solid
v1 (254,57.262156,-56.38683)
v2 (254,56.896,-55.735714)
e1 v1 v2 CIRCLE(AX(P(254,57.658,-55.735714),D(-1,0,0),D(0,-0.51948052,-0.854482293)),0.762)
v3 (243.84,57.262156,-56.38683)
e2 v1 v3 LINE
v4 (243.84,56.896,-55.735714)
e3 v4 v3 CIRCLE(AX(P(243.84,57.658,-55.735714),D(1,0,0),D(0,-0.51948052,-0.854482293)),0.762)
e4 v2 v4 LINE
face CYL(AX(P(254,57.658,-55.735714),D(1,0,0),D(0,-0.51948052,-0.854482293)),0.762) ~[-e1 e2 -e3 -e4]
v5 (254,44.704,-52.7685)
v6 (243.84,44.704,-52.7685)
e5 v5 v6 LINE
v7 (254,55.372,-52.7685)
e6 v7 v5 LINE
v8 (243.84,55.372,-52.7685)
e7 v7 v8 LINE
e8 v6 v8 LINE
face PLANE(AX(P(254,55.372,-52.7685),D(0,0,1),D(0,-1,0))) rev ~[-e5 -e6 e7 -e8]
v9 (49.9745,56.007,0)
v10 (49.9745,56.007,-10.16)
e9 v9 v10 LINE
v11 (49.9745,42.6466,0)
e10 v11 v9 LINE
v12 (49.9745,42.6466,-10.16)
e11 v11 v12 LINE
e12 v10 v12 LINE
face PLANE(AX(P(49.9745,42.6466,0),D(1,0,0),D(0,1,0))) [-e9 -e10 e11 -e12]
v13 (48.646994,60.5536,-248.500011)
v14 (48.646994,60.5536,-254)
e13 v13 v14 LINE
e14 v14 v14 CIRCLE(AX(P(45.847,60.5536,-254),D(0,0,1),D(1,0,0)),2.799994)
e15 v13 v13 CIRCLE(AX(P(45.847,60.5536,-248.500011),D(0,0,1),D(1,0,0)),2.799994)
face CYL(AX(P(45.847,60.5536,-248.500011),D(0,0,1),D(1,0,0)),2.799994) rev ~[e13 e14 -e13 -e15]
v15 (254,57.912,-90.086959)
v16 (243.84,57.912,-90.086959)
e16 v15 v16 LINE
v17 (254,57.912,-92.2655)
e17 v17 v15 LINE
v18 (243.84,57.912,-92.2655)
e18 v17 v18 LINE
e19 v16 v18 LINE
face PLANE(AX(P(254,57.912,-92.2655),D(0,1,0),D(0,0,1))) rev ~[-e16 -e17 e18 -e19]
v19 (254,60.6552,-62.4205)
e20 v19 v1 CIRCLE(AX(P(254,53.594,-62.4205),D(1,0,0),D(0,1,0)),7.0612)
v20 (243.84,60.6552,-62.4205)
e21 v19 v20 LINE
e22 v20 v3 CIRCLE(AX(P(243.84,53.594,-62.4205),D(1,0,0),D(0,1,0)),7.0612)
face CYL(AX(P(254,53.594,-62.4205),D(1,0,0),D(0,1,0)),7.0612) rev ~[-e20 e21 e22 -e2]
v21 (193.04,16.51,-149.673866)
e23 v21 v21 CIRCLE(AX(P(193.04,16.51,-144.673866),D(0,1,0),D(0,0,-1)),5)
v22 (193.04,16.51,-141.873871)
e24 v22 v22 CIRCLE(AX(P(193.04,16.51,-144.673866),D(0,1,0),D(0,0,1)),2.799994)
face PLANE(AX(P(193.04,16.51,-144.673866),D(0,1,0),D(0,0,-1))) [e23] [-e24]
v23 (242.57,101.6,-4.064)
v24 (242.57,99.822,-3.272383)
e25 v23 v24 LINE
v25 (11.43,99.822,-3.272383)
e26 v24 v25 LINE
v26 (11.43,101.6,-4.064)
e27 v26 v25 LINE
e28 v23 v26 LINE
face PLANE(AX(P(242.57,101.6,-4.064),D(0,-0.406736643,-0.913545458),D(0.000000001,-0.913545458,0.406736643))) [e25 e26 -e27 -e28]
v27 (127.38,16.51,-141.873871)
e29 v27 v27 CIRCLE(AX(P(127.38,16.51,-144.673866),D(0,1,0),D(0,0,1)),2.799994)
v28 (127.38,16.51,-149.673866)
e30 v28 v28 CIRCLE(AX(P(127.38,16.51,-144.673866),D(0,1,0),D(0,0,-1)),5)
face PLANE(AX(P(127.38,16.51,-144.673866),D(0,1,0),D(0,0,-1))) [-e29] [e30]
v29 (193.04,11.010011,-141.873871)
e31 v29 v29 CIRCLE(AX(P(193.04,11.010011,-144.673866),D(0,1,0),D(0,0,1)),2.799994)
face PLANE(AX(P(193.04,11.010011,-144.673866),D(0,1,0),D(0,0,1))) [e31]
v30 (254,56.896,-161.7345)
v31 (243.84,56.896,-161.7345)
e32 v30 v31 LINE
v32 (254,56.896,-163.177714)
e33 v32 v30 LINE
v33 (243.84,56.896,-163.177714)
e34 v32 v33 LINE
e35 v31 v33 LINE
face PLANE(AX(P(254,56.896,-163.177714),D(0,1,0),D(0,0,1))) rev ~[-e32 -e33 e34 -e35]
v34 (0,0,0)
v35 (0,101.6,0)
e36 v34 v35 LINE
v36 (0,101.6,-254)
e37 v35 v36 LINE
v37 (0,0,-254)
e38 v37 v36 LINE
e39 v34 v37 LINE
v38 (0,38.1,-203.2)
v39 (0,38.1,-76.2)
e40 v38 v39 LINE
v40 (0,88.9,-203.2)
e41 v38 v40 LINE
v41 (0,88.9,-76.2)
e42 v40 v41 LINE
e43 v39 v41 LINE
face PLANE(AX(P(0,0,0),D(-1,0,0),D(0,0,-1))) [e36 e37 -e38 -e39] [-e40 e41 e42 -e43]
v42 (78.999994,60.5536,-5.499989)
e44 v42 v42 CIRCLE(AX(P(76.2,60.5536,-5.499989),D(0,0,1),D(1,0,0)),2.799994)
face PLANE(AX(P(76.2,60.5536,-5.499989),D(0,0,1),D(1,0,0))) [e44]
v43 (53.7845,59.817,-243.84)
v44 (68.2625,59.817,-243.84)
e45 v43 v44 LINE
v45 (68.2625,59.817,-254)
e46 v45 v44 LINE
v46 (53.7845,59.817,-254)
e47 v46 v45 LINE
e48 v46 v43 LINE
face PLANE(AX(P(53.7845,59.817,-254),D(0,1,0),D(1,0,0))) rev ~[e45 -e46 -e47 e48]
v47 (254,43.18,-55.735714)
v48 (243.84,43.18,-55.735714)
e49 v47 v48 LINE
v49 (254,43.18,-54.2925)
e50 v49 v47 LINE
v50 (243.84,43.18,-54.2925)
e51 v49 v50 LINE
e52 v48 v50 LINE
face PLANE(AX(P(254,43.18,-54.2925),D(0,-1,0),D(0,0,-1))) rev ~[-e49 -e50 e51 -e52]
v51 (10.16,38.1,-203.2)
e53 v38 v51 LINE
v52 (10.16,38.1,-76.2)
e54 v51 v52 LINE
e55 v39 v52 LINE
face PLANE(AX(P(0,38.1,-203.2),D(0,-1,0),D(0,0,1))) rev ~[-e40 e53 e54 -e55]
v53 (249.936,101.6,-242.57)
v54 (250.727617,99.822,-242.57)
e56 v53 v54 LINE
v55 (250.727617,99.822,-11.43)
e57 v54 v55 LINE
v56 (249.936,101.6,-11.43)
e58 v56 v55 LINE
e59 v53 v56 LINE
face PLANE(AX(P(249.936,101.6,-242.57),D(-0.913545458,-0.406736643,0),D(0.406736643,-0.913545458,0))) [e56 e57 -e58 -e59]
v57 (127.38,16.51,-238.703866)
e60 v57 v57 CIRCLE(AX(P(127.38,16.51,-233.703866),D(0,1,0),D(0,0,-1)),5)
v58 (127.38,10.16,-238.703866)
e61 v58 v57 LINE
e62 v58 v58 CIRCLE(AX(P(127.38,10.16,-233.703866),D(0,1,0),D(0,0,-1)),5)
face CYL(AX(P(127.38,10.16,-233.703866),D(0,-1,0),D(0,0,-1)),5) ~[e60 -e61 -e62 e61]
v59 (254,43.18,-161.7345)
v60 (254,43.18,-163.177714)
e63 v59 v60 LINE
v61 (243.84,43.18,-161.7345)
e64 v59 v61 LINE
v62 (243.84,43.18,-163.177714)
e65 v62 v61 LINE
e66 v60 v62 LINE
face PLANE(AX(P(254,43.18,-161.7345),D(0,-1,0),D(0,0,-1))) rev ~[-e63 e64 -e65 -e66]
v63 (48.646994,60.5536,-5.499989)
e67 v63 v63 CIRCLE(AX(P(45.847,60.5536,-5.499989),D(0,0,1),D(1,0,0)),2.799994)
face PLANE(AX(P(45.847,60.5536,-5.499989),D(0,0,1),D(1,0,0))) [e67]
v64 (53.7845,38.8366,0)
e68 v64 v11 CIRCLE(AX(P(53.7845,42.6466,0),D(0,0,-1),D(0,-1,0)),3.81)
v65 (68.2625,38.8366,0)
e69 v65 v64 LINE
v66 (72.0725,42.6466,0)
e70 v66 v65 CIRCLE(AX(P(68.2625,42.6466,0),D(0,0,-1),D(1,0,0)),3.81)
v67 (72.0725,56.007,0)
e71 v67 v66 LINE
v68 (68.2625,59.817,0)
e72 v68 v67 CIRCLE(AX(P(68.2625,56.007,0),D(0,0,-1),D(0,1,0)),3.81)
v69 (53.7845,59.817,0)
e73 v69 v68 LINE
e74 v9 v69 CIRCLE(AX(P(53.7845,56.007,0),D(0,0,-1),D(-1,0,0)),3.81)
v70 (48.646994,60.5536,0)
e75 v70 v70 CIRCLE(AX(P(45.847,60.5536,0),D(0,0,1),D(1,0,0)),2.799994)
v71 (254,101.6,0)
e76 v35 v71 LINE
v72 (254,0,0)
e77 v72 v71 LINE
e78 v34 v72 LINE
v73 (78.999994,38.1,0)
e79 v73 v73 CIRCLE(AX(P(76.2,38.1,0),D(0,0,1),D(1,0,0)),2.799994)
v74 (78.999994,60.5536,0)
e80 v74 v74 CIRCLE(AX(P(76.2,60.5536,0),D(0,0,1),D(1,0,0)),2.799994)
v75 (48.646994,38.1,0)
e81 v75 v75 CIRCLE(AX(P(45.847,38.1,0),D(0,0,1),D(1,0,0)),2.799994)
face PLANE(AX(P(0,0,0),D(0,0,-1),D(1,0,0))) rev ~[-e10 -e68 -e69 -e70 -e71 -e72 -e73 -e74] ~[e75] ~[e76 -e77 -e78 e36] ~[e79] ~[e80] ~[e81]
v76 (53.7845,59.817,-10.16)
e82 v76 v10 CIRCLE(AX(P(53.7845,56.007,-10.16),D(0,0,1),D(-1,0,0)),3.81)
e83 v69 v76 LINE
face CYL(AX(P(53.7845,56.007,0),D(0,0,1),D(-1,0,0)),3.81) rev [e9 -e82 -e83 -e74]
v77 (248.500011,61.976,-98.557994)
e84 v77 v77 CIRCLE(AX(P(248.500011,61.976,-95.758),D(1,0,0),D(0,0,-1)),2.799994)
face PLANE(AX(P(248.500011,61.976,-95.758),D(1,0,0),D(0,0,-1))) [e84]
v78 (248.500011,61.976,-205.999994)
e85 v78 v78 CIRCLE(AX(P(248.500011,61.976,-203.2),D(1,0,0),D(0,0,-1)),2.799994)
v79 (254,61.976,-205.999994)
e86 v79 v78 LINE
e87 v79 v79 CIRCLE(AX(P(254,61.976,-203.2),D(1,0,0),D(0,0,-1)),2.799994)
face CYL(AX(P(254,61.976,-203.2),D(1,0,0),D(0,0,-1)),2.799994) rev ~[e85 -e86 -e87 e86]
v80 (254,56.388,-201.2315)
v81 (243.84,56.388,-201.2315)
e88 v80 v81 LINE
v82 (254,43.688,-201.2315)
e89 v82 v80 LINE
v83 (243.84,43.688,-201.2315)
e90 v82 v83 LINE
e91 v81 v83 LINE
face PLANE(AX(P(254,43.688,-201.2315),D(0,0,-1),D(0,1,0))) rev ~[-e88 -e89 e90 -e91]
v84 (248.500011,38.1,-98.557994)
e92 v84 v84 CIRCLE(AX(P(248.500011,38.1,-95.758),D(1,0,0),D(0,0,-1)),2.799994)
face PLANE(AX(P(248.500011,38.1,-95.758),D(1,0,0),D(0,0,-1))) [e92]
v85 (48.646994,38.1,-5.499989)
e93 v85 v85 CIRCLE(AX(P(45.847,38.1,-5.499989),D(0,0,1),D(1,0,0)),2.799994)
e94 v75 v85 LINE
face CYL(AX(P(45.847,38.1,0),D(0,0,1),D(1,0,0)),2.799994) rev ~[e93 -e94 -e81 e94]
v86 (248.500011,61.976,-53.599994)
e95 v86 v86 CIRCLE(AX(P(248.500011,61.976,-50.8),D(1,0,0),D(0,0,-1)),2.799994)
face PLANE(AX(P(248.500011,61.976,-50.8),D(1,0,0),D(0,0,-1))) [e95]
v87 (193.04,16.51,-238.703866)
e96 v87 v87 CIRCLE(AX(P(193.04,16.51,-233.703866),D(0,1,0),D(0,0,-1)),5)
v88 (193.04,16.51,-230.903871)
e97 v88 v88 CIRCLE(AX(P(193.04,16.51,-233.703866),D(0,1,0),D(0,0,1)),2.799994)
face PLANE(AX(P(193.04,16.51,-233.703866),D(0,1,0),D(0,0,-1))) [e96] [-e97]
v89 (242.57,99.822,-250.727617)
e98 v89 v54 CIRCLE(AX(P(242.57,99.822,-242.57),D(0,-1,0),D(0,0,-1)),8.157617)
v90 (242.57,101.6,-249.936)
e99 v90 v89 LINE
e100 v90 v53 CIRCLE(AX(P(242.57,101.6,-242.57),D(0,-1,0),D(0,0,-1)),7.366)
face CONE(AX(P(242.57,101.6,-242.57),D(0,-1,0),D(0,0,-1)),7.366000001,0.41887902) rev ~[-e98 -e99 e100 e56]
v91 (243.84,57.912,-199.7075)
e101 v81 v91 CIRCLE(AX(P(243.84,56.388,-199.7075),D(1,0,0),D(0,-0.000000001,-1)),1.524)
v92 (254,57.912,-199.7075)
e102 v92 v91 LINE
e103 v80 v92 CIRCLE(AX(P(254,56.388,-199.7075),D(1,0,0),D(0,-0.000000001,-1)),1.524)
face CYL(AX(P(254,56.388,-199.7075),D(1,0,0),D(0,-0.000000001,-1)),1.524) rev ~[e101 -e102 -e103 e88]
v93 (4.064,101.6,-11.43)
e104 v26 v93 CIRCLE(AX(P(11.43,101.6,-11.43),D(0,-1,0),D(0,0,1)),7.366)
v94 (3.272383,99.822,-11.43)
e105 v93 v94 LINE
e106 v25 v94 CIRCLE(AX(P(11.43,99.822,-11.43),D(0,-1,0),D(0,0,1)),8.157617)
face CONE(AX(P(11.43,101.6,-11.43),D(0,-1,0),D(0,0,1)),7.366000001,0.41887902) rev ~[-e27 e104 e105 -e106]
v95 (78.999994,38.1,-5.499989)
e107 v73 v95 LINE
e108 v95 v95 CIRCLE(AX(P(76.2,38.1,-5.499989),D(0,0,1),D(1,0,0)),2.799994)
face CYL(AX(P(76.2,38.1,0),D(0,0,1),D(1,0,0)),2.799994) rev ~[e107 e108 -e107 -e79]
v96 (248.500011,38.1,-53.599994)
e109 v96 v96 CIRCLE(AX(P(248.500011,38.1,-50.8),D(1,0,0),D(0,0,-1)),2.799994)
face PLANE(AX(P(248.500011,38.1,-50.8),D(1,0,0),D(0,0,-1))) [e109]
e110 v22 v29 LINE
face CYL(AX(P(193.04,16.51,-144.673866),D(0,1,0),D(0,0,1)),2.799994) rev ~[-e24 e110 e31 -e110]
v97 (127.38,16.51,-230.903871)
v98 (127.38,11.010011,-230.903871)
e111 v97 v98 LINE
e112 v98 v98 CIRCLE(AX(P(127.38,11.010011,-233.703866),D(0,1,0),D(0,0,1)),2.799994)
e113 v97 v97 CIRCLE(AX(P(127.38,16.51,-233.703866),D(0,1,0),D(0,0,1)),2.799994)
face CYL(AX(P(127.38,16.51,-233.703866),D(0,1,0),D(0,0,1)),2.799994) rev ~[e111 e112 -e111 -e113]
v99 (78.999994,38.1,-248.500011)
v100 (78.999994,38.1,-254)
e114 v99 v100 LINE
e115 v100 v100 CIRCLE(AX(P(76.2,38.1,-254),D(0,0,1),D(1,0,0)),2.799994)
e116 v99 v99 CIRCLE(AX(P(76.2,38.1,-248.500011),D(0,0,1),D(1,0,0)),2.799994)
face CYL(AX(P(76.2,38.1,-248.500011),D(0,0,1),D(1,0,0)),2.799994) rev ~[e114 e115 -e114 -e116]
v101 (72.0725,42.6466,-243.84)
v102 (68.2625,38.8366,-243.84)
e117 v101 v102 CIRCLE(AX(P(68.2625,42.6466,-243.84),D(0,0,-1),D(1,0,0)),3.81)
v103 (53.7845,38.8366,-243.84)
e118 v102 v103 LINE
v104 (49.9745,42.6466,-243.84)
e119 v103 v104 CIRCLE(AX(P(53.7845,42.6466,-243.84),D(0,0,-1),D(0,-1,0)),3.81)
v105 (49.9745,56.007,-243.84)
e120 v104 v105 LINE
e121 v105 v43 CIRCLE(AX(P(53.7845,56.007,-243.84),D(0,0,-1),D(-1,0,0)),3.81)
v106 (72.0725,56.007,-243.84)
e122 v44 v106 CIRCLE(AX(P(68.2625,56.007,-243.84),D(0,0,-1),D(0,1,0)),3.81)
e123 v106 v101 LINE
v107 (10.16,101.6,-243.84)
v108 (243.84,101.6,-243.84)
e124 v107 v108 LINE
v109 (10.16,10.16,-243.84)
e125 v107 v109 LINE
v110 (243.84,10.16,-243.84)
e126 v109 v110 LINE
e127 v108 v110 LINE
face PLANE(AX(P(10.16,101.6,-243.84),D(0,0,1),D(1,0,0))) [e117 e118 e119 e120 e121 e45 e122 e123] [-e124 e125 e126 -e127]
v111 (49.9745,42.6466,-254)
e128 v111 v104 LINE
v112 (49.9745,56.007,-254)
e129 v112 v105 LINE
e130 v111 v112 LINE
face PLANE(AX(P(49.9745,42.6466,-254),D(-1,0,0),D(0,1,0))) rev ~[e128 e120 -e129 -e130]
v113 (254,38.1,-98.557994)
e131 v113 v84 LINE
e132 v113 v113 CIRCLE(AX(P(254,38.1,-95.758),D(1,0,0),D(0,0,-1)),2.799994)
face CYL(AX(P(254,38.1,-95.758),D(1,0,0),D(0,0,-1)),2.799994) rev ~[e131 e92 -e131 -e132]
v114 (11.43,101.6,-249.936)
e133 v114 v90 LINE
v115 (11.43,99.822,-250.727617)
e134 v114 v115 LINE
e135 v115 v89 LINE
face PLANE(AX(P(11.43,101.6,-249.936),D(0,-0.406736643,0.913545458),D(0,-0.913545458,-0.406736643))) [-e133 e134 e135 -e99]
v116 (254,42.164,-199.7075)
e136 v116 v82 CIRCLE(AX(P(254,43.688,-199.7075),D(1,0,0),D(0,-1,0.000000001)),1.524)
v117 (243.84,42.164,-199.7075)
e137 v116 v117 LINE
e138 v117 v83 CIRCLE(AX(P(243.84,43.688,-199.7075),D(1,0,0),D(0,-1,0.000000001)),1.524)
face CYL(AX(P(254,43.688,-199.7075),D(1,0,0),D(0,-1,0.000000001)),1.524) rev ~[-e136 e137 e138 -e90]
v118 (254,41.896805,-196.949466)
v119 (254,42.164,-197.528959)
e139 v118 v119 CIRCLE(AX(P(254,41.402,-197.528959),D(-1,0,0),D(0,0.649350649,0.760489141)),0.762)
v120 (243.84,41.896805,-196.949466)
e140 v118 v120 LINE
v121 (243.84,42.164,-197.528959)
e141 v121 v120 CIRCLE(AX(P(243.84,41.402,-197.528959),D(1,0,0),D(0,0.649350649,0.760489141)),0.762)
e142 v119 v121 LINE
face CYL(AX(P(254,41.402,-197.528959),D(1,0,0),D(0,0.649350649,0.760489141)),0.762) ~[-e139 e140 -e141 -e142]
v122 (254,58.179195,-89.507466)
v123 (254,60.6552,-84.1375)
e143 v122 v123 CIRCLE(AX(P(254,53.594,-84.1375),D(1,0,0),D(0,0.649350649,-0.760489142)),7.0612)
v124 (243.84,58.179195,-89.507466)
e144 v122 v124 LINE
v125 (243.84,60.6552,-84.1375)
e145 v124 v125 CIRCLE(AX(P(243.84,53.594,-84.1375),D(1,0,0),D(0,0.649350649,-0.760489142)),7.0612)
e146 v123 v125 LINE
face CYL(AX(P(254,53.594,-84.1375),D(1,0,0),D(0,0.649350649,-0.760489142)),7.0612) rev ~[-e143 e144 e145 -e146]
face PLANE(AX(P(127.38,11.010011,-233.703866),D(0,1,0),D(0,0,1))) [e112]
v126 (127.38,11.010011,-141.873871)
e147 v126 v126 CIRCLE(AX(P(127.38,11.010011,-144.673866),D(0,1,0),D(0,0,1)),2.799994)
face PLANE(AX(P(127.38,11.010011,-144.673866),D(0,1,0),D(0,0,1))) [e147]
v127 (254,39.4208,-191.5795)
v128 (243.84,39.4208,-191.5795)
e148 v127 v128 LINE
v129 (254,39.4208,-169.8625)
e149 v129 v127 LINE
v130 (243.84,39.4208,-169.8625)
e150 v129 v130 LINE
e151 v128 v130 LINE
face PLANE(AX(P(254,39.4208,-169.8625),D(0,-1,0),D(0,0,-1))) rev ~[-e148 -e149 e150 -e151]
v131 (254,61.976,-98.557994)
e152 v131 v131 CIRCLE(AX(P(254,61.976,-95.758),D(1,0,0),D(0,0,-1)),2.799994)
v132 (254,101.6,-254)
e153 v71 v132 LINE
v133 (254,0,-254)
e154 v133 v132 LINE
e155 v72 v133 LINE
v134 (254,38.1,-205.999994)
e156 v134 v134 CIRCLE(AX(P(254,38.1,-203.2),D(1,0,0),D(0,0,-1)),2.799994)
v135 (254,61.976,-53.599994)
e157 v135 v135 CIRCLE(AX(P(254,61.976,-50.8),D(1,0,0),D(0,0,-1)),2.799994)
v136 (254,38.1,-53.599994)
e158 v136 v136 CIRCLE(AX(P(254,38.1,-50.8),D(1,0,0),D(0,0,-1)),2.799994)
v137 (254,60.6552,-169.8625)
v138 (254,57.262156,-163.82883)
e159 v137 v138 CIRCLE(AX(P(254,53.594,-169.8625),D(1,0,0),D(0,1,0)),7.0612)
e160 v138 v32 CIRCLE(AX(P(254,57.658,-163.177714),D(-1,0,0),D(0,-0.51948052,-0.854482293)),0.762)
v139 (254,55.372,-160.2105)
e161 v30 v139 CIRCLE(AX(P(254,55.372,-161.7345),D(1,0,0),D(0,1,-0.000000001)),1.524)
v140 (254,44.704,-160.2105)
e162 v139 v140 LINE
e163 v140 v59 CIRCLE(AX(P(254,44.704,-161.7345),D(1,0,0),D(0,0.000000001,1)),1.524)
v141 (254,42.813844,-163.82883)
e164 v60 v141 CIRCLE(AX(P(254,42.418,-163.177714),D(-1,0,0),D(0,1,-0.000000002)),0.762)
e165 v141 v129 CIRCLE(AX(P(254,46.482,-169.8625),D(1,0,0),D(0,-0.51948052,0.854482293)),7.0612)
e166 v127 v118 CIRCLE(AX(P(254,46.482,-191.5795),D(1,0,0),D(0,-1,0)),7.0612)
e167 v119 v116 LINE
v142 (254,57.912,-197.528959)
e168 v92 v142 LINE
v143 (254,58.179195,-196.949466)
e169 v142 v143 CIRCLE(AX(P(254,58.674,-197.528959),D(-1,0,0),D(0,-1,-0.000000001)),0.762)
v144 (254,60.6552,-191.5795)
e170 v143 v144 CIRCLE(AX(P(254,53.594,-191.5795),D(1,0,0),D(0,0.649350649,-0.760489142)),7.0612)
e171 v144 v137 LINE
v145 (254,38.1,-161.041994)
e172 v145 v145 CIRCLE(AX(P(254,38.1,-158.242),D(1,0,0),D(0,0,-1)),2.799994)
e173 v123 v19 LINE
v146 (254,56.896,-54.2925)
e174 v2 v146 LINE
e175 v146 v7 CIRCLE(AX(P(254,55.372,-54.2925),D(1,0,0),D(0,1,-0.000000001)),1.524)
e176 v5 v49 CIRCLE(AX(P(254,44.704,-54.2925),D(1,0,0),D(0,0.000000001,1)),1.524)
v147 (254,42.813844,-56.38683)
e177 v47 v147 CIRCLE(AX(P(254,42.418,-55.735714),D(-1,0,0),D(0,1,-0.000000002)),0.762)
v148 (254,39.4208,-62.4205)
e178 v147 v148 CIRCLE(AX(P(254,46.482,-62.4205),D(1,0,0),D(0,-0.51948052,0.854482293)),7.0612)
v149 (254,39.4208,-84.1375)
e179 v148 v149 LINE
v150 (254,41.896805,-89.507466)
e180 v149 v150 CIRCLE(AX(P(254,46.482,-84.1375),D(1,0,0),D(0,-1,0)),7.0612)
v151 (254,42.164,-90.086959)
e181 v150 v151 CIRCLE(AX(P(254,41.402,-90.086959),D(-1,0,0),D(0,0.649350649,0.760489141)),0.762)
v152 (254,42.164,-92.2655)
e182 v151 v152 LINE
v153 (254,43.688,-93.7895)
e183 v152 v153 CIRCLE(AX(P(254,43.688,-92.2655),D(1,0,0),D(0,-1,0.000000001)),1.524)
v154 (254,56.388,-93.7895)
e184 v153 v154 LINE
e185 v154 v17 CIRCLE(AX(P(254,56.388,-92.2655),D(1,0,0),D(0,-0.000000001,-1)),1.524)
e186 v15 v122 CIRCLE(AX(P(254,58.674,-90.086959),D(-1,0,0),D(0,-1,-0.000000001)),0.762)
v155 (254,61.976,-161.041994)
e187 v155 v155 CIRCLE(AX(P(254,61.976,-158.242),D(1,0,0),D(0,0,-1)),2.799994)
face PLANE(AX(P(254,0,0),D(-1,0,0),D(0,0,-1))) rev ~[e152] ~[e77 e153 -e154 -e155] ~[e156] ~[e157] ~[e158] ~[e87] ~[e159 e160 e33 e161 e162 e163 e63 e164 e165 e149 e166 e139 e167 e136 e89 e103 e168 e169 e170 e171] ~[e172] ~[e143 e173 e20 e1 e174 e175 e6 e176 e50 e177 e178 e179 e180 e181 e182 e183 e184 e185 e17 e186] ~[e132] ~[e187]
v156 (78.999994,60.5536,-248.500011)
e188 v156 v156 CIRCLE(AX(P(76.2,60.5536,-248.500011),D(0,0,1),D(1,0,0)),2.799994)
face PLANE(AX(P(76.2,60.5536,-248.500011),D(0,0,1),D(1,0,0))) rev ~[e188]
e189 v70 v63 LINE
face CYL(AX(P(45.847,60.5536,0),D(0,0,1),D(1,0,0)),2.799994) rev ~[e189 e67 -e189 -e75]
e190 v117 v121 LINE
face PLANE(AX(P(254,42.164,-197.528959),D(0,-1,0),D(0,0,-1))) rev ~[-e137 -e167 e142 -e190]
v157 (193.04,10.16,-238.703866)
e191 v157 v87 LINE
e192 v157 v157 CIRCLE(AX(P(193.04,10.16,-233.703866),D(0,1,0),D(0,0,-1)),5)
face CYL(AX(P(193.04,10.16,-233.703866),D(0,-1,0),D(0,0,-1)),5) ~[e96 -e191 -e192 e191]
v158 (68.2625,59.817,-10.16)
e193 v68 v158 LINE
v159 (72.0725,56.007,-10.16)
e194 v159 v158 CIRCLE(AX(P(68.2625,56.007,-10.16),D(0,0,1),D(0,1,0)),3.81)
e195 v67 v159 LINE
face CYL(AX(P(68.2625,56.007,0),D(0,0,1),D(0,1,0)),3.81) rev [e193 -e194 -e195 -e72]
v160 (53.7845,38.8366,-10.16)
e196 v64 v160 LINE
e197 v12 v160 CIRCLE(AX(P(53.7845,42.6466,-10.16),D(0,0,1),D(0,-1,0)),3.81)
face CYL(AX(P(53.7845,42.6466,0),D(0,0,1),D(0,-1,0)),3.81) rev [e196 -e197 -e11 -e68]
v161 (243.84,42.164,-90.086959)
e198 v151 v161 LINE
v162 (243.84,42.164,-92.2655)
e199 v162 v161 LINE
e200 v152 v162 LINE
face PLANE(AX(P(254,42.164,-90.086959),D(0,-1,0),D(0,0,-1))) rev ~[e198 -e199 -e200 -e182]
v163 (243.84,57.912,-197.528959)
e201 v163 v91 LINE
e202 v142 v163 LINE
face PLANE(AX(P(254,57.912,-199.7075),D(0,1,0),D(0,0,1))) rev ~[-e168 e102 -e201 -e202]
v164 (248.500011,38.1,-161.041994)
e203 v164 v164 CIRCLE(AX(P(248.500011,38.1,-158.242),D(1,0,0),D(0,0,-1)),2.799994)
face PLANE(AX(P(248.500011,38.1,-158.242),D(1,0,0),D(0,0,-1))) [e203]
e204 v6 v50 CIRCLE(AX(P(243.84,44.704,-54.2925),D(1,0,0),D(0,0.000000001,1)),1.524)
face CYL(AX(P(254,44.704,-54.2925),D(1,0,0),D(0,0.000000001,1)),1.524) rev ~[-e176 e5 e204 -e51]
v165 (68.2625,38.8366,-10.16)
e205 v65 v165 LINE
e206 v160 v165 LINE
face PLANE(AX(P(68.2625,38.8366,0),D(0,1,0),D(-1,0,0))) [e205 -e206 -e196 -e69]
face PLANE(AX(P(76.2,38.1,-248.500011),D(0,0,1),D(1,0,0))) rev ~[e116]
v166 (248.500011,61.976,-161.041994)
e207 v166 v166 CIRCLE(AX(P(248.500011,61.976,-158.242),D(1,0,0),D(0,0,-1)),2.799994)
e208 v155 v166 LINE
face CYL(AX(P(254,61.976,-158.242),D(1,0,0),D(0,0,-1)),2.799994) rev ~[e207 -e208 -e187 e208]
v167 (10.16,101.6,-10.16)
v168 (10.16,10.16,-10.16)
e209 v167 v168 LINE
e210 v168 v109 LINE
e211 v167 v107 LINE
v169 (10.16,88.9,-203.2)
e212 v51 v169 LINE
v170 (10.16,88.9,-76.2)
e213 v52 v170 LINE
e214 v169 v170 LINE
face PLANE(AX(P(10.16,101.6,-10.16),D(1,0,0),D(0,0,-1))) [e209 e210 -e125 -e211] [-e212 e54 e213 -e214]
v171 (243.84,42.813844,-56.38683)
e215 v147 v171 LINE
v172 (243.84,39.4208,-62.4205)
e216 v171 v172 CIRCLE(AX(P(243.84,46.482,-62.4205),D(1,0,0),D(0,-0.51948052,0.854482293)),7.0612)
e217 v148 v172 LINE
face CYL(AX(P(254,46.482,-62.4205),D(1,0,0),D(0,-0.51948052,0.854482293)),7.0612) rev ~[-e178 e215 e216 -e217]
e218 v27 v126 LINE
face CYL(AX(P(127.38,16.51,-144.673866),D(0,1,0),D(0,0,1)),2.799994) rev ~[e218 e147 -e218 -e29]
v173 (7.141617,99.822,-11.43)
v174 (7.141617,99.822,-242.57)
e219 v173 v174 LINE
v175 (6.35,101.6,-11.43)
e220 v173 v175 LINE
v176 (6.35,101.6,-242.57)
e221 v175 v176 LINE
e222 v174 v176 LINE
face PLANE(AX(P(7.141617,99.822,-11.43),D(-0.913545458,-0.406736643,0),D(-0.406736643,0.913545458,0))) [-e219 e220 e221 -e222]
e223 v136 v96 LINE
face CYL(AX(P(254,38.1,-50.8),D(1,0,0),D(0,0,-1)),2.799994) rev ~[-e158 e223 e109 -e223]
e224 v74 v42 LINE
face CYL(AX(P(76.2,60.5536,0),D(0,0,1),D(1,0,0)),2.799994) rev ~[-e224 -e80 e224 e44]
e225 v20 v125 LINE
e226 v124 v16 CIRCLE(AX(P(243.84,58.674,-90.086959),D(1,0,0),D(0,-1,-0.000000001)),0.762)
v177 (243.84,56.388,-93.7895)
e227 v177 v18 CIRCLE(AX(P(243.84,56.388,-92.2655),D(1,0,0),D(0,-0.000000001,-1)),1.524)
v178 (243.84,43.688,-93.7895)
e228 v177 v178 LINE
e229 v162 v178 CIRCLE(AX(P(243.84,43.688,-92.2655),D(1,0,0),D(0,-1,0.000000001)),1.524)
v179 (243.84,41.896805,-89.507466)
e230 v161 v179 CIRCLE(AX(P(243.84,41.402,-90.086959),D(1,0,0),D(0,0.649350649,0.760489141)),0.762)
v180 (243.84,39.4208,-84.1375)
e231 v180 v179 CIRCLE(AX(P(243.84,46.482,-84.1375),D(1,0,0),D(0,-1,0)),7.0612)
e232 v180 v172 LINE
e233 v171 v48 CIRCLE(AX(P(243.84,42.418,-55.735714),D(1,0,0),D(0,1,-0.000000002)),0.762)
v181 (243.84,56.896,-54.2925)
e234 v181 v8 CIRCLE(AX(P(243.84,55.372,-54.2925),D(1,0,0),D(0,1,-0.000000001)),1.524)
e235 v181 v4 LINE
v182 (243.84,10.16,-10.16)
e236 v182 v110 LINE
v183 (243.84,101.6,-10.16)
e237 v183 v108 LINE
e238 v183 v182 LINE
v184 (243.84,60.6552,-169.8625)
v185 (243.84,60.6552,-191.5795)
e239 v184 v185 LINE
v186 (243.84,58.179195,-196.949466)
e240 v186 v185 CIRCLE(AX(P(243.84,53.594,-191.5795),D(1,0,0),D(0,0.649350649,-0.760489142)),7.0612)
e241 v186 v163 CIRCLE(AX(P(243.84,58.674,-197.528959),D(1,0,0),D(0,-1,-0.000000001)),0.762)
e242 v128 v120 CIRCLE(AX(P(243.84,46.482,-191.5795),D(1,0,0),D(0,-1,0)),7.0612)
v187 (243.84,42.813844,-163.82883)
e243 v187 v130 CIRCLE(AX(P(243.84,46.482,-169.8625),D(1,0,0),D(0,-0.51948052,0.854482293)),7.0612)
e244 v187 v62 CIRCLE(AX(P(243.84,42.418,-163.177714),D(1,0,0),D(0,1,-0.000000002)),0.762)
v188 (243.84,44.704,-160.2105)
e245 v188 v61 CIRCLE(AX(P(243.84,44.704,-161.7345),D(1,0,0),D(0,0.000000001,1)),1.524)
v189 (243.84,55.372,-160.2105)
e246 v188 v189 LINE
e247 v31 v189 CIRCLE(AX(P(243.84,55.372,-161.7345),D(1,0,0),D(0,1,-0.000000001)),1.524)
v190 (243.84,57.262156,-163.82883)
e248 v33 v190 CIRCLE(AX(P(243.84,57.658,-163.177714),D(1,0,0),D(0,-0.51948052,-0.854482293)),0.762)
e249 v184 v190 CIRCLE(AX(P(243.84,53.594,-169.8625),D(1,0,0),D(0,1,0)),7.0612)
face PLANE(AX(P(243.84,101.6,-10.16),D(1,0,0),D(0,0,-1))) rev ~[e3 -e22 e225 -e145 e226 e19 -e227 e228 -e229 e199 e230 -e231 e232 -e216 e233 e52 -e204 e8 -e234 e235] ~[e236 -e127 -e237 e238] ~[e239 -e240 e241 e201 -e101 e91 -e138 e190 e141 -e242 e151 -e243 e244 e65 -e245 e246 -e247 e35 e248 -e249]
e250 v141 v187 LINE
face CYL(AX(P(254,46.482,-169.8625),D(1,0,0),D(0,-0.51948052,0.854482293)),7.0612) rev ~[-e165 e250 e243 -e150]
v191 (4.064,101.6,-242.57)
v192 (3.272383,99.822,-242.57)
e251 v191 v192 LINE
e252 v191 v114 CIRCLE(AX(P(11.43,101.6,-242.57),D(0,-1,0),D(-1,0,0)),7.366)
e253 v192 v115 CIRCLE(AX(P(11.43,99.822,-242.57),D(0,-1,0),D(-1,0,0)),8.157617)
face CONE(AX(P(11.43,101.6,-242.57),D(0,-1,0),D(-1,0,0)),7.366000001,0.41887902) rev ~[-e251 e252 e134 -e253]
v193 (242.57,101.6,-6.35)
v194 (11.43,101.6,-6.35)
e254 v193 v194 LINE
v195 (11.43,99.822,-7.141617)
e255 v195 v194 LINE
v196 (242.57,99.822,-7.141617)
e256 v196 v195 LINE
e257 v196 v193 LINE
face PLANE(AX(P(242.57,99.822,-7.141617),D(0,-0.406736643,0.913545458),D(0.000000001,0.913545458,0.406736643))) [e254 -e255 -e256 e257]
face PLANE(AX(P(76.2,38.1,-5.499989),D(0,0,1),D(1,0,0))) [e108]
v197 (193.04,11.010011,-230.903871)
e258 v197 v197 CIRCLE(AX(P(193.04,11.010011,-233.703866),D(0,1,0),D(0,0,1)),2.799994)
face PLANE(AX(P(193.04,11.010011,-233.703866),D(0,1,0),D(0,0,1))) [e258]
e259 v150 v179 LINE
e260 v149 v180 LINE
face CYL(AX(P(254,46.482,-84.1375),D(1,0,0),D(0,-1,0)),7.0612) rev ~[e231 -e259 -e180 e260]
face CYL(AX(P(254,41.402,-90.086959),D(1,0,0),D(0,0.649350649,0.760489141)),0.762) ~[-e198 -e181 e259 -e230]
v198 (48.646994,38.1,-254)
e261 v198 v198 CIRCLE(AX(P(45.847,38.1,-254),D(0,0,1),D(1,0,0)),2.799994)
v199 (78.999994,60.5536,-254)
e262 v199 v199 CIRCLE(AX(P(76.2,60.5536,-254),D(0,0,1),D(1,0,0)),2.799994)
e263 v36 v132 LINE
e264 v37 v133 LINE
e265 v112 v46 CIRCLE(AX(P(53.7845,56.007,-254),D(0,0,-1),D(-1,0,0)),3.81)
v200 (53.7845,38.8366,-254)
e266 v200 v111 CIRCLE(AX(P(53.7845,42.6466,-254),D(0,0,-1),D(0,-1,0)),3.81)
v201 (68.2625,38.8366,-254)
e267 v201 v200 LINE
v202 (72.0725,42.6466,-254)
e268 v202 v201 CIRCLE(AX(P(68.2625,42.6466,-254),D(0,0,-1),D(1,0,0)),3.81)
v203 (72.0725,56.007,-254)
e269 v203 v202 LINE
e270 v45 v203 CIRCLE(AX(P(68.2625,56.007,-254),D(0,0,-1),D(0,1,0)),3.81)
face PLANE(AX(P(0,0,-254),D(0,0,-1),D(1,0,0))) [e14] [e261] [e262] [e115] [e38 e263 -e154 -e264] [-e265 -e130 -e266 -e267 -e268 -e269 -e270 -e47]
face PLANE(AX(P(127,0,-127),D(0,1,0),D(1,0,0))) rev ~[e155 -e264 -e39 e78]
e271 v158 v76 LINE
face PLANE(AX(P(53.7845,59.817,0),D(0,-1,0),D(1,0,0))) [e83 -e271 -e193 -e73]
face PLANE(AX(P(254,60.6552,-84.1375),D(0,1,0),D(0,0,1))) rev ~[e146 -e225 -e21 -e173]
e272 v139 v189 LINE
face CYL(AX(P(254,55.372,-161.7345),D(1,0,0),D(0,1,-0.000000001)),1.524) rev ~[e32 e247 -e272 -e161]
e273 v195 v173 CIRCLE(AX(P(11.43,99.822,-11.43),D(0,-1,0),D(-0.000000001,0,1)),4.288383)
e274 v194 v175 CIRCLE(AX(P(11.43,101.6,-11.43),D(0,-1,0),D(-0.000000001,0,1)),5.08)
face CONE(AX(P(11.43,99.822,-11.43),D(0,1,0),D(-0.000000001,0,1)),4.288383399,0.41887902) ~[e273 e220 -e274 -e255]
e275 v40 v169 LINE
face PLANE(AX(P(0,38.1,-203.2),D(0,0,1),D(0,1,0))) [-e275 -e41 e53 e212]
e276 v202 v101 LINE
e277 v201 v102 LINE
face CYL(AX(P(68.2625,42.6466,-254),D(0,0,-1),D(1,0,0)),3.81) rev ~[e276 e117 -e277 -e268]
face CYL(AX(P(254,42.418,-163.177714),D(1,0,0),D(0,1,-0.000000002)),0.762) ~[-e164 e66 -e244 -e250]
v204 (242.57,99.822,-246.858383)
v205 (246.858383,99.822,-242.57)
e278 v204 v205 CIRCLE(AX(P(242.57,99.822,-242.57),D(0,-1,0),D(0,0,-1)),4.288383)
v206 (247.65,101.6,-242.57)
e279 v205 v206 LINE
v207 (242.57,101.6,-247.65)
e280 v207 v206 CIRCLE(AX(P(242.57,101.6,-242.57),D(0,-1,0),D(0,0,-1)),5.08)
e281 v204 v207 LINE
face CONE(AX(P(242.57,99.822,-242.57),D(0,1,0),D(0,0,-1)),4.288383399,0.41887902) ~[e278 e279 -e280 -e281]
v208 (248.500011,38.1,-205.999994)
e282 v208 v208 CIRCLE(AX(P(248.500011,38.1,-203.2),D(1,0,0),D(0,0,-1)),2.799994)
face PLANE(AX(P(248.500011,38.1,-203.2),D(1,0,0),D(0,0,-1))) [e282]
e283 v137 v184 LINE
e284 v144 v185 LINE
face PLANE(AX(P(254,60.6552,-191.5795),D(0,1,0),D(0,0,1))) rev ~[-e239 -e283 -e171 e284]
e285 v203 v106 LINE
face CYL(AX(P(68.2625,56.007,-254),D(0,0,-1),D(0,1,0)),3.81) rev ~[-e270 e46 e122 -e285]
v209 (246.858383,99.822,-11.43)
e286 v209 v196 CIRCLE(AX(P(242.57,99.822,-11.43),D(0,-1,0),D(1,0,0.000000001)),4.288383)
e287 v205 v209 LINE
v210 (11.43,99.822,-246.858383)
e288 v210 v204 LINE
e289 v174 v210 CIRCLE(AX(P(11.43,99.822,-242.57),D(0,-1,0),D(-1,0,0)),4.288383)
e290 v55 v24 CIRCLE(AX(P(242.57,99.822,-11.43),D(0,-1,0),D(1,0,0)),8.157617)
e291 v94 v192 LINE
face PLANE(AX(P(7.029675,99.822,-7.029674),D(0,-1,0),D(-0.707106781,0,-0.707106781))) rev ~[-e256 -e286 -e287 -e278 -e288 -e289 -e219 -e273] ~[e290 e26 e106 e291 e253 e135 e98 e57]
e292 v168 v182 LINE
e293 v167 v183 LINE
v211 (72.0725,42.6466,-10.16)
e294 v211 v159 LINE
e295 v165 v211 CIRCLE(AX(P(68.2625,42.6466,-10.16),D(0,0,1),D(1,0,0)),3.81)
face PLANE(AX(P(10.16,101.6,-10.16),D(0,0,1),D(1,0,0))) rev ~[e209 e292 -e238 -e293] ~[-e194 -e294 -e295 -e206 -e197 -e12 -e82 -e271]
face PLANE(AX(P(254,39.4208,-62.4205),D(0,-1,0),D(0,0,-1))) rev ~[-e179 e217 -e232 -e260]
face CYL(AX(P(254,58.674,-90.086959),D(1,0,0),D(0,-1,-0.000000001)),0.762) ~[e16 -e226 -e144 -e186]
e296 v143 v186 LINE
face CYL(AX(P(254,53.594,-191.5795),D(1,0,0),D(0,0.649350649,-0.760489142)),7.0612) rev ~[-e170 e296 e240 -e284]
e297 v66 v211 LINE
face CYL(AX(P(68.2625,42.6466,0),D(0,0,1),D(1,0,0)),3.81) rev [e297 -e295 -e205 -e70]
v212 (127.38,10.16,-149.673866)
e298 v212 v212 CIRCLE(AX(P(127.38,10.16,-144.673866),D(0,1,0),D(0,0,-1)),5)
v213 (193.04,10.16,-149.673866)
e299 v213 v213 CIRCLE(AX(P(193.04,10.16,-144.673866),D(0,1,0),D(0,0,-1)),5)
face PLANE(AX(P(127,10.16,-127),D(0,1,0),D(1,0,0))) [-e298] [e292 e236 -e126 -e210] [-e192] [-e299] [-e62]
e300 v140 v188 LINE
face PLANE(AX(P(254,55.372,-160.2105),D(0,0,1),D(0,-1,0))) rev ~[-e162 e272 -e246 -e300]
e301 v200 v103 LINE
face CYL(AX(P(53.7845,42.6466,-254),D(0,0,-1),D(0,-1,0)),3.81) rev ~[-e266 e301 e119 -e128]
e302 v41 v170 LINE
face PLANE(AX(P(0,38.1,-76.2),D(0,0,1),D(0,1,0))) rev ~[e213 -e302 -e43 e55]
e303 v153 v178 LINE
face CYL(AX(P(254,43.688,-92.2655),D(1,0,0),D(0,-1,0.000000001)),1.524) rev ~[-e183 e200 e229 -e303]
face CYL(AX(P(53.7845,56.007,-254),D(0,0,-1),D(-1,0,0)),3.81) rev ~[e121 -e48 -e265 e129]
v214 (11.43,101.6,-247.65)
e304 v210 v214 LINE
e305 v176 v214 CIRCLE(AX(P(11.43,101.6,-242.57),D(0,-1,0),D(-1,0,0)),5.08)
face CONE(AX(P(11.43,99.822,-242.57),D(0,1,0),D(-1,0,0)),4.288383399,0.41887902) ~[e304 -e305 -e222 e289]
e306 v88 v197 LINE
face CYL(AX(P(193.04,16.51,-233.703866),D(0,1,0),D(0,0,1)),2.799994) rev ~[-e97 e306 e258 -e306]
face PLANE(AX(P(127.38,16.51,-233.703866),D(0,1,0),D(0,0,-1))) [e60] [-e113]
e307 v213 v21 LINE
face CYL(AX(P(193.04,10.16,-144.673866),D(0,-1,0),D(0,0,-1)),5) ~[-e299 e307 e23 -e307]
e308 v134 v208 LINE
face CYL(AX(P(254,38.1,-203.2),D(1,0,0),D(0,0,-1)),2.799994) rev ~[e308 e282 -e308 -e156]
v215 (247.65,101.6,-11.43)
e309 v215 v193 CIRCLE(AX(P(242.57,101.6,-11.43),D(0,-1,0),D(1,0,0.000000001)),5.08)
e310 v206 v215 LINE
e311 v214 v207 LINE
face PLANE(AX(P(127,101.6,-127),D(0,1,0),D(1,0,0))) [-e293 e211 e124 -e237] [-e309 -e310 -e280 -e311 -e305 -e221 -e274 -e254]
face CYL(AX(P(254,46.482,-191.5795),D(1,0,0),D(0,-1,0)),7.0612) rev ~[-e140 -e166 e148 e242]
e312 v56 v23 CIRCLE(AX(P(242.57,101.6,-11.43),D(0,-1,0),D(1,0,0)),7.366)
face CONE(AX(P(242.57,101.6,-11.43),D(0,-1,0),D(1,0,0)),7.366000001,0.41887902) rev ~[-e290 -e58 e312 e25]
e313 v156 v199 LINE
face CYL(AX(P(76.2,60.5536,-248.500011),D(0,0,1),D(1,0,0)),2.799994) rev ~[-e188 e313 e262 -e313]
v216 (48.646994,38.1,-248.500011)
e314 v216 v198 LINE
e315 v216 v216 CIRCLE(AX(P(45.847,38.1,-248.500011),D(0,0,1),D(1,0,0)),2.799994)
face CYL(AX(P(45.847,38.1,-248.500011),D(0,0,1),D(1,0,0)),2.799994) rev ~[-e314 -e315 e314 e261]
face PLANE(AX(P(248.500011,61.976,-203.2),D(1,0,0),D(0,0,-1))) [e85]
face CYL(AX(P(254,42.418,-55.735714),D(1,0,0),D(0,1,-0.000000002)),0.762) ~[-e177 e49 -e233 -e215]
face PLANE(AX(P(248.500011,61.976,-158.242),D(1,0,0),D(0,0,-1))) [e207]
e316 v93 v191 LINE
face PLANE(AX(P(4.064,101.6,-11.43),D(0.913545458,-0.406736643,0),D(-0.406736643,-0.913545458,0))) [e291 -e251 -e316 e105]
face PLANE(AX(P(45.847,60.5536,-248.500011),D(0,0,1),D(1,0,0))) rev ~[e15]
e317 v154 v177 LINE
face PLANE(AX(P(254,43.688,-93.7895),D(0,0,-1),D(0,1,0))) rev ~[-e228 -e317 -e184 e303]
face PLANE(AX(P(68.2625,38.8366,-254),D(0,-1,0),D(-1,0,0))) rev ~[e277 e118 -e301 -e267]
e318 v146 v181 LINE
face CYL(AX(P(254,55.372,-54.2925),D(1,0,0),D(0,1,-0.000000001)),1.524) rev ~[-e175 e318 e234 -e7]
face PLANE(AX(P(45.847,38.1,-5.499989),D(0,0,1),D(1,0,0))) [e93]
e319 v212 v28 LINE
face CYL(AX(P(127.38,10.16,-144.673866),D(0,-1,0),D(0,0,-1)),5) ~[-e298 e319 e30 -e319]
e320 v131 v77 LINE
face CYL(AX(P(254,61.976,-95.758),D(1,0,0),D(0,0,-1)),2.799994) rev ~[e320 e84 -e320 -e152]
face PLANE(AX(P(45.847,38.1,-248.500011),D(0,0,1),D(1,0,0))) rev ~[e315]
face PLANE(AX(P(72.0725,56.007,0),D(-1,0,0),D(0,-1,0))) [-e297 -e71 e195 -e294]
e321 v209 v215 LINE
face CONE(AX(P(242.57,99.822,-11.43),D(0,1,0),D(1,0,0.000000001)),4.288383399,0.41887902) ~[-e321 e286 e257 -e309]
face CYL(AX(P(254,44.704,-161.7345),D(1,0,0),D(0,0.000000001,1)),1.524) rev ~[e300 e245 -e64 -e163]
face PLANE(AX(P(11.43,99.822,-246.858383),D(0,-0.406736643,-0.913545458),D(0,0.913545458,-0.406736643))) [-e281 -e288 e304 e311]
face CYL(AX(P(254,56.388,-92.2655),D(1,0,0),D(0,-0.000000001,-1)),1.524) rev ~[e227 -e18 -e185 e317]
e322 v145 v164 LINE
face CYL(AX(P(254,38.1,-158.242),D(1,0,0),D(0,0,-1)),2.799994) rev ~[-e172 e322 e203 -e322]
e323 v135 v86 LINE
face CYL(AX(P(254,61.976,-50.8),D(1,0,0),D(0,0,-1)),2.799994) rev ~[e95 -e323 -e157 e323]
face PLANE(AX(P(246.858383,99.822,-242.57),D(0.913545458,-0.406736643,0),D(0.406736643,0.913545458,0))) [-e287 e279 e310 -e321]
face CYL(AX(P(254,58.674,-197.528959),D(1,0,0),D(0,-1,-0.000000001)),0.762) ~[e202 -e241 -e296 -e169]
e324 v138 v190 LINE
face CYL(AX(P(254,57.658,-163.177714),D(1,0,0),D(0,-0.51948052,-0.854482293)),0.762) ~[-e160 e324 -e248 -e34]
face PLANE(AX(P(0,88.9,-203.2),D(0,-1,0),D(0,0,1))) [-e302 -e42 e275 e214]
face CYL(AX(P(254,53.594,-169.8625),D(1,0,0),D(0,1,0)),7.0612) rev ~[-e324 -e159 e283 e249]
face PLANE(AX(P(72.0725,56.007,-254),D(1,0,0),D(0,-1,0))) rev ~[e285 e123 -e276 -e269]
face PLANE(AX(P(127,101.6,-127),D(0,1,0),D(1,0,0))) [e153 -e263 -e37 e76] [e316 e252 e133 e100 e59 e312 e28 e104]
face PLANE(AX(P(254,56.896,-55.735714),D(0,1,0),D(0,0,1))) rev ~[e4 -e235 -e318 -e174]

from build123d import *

# Parameters (mm, degrees)
SKETCH1_W           = 254
SKETCH1_H           = 254
BOSS_EXTRUDE1_DEPTH = 101.6
SKETCH2_W           = 233.68
SKETCH2_H           = 233.68
CUT_EXTRUDE1_DEPTH  = 91.44
CUT_EXTRUDE10_REACH = 375.302
F_12_PIN_MOUNT_R    = 2.7999944
CUT_EXTRUDE3_DEPTH  = 5.499989
CUT_EXTRUDE5_REACH  = 375.302
CUT_EXTRUDE6_START  = -254
CUT_EXTRUDE6_DEPTH  = 10.16
SKETCH6_R           = 2.7999944
CUT_EXTRUDE7_DEPTH  = 5.499989
CUT_EXTRUDE8_START  = -248.500011
SKETCH6_2_R         = 2.7999944
CUT_EXTRUDE8_DEPTH  = 5.499989
SKETCH7_R           = 5
BOSS_EXTRUDE2_DEPTH = 6.35
CUT_EXTRUDE9_START  = 6.35
SKETCH8_R           = 2.7999944
CUT_EXTRUDE9_DEPTH  = 5.499989
CUT_EXTRUDE11_REACH = 375.302
SKETCH14_W          = 127
SKETCH14_H          = 50.8


with BuildPart() as part:
    # Sketch1 → Boss-Extrude1 (new body)
    with BuildSketch(Plane(origin=(0, 0, 0), x_dir=(1, 0, 0), z_dir=(0, 1, 0))):
        with Locations((127, 127)):
            Rectangle(SKETCH1_W, SKETCH1_H)
    extrude(amount=BOSS_EXTRUDE1_DEPTH)

    # Sketch2 → Cut-Extrude1 (cut)
    with BuildSketch(Plane(origin=(0, 101.6, 0), x_dir=(1, 0, 0), z_dir=(0, 1, 0))):
        with Locations((127, 127)):
            Rectangle(SKETCH2_W, SKETCH2_H)
    extrude(amount=-CUT_EXTRUDE1_DEPTH, mode=Mode.SUBTRACT)

    # Cut-Sweep2: sweep along a path in Sketch3
    with BuildLine(Plane(origin=(0, 101.6, 0), x_dir=(1, 0, 0), z_dir=(0, 1, 0))) as cut_sweep2_path:
        Line((6.35, 11.43), (6.35, 242.57))
        ThreePointArc((6.35, 242.57), (7.837897552, 246.162102448), (11.43, 247.65))
        Line((11.43, 247.65), (242.57, 247.65))
        ThreePointArc((242.57, 247.65), (246.162102448, 246.162102448), (247.65, 242.57))
        Line((247.65, 242.57), (247.65, 11.43))
        ThreePointArc((247.65, 11.43), (246.162102448, 7.837897552), (242.57, 6.35))
        Line((242.57, 6.35), (11.43, 6.35))
        ThreePointArc((11.43, 6.35), (7.837897552, 7.837897552), (6.35, 11.43))
    # Sketch4 → Cut-Sweep2 (sweep, cut)
    with BuildSketch(Plane.XY.offset(-15.24)):
        Polygon((4.064, 101.6), (3.272383398, 99.822), (7.141616602, 99.822), (6.35, 101.6), align=None)
    sweep(path=cut_sweep2_path.line, mode=Mode.SUBTRACT)

    # Sketch13 → Cut-Extrude10 (cut, up to next)
    with BuildSketch(Plane(origin=(254, 0, 0), x_dir=(0, 0, -1), z_dir=(1, 0, 0)), mode=Mode.PRIVATE) as cut_extrude10_sk1:
        with BuildLine():
            Line((55.735714122, 56.896), (54.2925, 56.896))
            ThreePointArc((54.2925, 56.896), (53.214869265, 56.449630735), (52.7685, 55.372))
            Line((52.7685, 55.372), (52.7685, 44.704))
            ThreePointArc((52.7685, 44.704), (53.214869265, 43.626369265), (54.2925, 43.18))
            Line((54.2925, 43.18), (55.735714122, 43.18))
            ThreePointArc((55.735714122, 43.18), (56.109218307, 43.082182673), (56.386829629, 42.813844156))
            ThreePointArc((56.386829629, 42.813844156), (58.959361214, 40.327240562), (62.4205, 39.4208))
            Line((62.4205, 39.4208), (84.1375, 39.4208))
            ThreePointArc((84.1375, 39.4208), (87.094150798, 40.069608753), (89.507465925, 41.896805195))
            ThreePointArc((89.507465925, 41.896805195), (89.767895615, 42.093984667), (90.086958651, 42.164))
            Line((90.086958651, 42.164), (92.2655, 42.164))
            ThreePointArc((92.2655, 42.164), (93.343130735, 42.610369265), (93.7895, 43.688))
            Line((93.7895, 43.688), (93.7895, 56.388))
            ThreePointArc((93.7895, 56.388), (93.343130735, 57.465630735), (92.2655, 57.912))
            Line((92.2655, 57.912), (90.086958651, 57.912))
            ThreePointArc((90.086958651, 57.912), (89.767895615, 57.982015333), (89.507465925, 58.179194805))
            ThreePointArc((89.507465925, 58.179194805), (87.094150798, 60.006391247), (84.1375, 60.6552))
            Line((84.1375, 60.6552), (62.4205, 60.6552))
            ThreePointArc((62.4205, 60.6552), (58.959361214, 59.748759438), (56.386829629, 57.262155844))
            ThreePointArc((56.386829629, 57.262155844), (56.109218307, 56.993817327), (55.735714122, 56.896))
        make_face()
    cut_extrude10_tool1 = extrude(cut_extrude10_sk1.sketch, amount=-CUT_EXTRUDE10_REACH, mode=Mode.PRIVATE) & part.part
    # Sketch13 → Cut-Extrude10 (cut, up to next)
    with BuildSketch(Plane(origin=(254, 0, 0), x_dir=(0, 0, -1), z_dir=(1, 0, 0)), mode=Mode.PRIVATE) as cut_extrude10_sk2:
        with BuildLine():
            Line((163.177714122, 56.896), (161.7345, 56.896))
            ThreePointArc((161.7345, 56.896), (160.656869265, 56.449630735), (160.2105, 55.372))
            Line((160.2105, 55.372), (160.2105, 44.704))
            ThreePointArc((160.2105, 44.704), (160.656869265, 43.626369265), (161.7345, 43.18))
            Line((161.7345, 43.18), (163.177714122, 43.18))
            ThreePointArc((163.177714122, 43.18), (163.551218307, 43.082182673), (163.828829629, 42.813844156))
            ThreePointArc((163.828829629, 42.813844156), (166.401361214, 40.327240562), (169.8625, 39.4208))
            Line((169.8625, 39.4208), (191.5795, 39.4208))
            ThreePointArc((191.5795, 39.4208), (194.536150798, 40.069608753), (196.949465925, 41.896805195))
            ThreePointArc((196.949465925, 41.896805195), (197.209895615, 42.093984667), (197.528958651, 42.164))
            Line((197.528958651, 42.164), (199.7075, 42.164))
            ThreePointArc((199.7075, 42.164), (200.785130735, 42.610369265), (201.2315, 43.688))
            Line((201.2315, 43.688), (201.2315, 56.388))
            ThreePointArc((201.2315, 56.388), (200.785130735, 57.465630735), (199.7075, 57.912))
            Line((199.7075, 57.912), (197.528958651, 57.912))
            ThreePointArc((197.528958651, 57.912), (197.209895615, 57.982015333), (196.949465925, 58.179194805))
            ThreePointArc((196.949465925, 58.179194805), (194.536150798, 60.006391247), (191.5795, 60.6552))
            Line((191.5795, 60.6552), (169.8625, 60.6552))
            ThreePointArc((169.8625, 60.6552), (166.401361214, 59.748759438), (163.828829629, 57.262155844))
            ThreePointArc((163.828829629, 57.262155844), (163.551218307, 56.993817327), (163.177714122, 56.896))
        make_face()
    cut_extrude10_tool2 = extrude(cut_extrude10_sk2.sketch, amount=-CUT_EXTRUDE10_REACH, mode=Mode.PRIVATE) & part.part
    add(cut_extrude10_tool1.solids().sort_by_distance((254, 50.038, -73.454803))[0], mode=Mode.SUBTRACT)
    add(cut_extrude10_tool2.solids().sort_by_distance((254, 50.038, -180.896803))[0], mode=Mode.SUBTRACT)

    # 12 pin mount → Cut-Extrude3 (cut)
    with BuildSketch(Plane(origin=(254, 0, 0), x_dir=(0, 0, -1), z_dir=(1, 0, 0))):
        with Locations((95.758, 61.976)):
            Circle(F_12_PIN_MOUNT_R)
        with Locations((95.758, 38.1)):
            Circle(F_12_PIN_MOUNT_R)
        with Locations((50.8, 38.1)):
            Circle(F_12_PIN_MOUNT_R)
        with Locations((50.8, 61.976)):
            Circle(F_12_PIN_MOUNT_R)
        with Locations((158.242, 61.976)):
            Circle(F_12_PIN_MOUNT_R)
        with Locations((203.2, 61.976)):
            Circle(F_12_PIN_MOUNT_R)
        with Locations((203.2, 38.1)):
            Circle(F_12_PIN_MOUNT_R)
        with Locations((158.242, 38.1)):
            Circle(F_12_PIN_MOUNT_R)
    extrude(amount=-CUT_EXTRUDE3_DEPTH, mode=Mode.SUBTRACT)

    # 4 pin connector → Cut-Extrude5 (cut, up to next)
    with BuildSketch(Plane.XY, mode=Mode.PRIVATE) as cut_extrude5_sk1:
        with BuildLine():
            Line((53.7845, 59.817), (68.2625, 59.817))
            ThreePointArc((68.2625, 59.817), (70.956576836, 58.701076836), (72.0725, 56.007))
            Line((72.0725, 56.007), (72.0725, 42.6466))
            ThreePointArc((72.0725, 42.6466), (70.956576836, 39.952523164), (68.2625, 38.8366))
            Line((68.2625, 38.8366), (53.7845, 38.8366))
            ThreePointArc((53.7845, 38.8366), (51.090423164, 39.952523164), (49.9745, 42.6466))
            Line((49.9745, 42.6466), (49.9745, 56.007))
            ThreePointArc((49.9745, 56.007), (51.090423164, 58.701076836), (53.7845, 59.817))
        make_face()
    cut_extrude5_tool1 = extrude(cut_extrude5_sk1.sketch, amount=-CUT_EXTRUDE5_REACH, mode=Mode.PRIVATE) & part.part
    add(cut_extrude5_tool1.solids().sort_by_distance((61.0235, 49.3268, 0))[0], mode=Mode.SUBTRACT)

    # Sketch5<2> → Cut-Extrude6 (cut)
    with BuildSketch(Plane.XY.offset(CUT_EXTRUDE6_START)):
        with BuildLine():
            Line((53.7845, 59.817), (68.2625, 59.817))
            ThreePointArc((68.2625, 59.817), (70.956576836, 58.701076836), (72.0725, 56.007))
            Line((72.0725, 56.007), (72.0725, 42.6466))
            ThreePointArc((72.0725, 42.6466), (70.956576836, 39.952523164), (68.2625, 38.8366))
            Line((68.2625, 38.8366), (53.7845, 38.8366))
            ThreePointArc((53.7845, 38.8366), (51.090423164, 39.952523164), (49.9745, 42.6466))
            Line((49.9745, 42.6466), (49.9745, 56.007))
            ThreePointArc((49.9745, 56.007), (51.090423164, 58.701076836), (53.7845, 59.817))
        make_face()
    extrude(amount=CUT_EXTRUDE6_DEPTH, mode=Mode.SUBTRACT)

    # Sketch6 → Cut-Extrude7 (cut)
    with BuildSketch(Plane.XY):
        with Locations((76.2, 60.5536)):
            Circle(SKETCH6_R)
        with Locations((76.2, 38.1)):
            Circle(SKETCH6_R)
        with Locations((45.847, 38.1)):
            Circle(SKETCH6_R)
        with Locations((45.847, 60.5536)):
            Circle(SKETCH6_R)
    extrude(amount=-CUT_EXTRUDE7_DEPTH, mode=Mode.SUBTRACT)

    # Sketch6<2> → Cut-Extrude8 (cut)
    with BuildSketch(Plane.XY.offset(CUT_EXTRUDE8_START)):
        with Locations((76.2, 60.5536)):
            Circle(SKETCH6_2_R)
        with Locations((76.2, 38.1)):
            Circle(SKETCH6_2_R)
        with Locations((45.847, 38.1)):
            Circle(SKETCH6_2_R)
        with Locations((45.847, 60.5536)):
            Circle(SKETCH6_2_R)
    extrude(amount=-CUT_EXTRUDE8_DEPTH, mode=Mode.SUBTRACT)

    # Sketch7 → Boss-Extrude2 (add)
    with BuildSketch(Plane(origin=(0, 10.16, 0), x_dir=(1, 0, 0), z_dir=(0, 1, 0))):
        with Locations(Location((127.38, 144.673865575, 0), (0, 0, 90))):
            Circle(SKETCH7_R)
        with Locations(Location((193.04, 144.673865575, 0), (0, 0, 90))):
            Circle(SKETCH7_R)
        with Locations(Location((193.04, 233.703865575, 0), (0, 0, 90))):
            Circle(SKETCH7_R)
        with Locations(Location((127.38, 233.703865575, 0), (0, 0, 90))):
            Circle(SKETCH7_R)
    extrude(amount=BOSS_EXTRUDE2_DEPTH)

    # Sketch8 → Cut-Extrude9 (cut)
    with BuildSketch(Plane(origin=(0, 10.16, 0), x_dir=(1, 0, 0), z_dir=(0, 1, 0)).offset(CUT_EXTRUDE9_START)):
        with Locations(Location((127.38, 233.703865575, 0), (0, 0, 270))):
            Circle(SKETCH8_R)
        with Locations(Location((193.04, 233.703865575, 0), (0, 0, 270))):
            Circle(SKETCH8_R)
        with Locations(Location((193.04, 144.673865575, 0), (0, 0, 270))):
            Circle(SKETCH8_R)
        with Locations(Location((127.38, 144.673865575, 0), (0, 0, 270))):
            Circle(SKETCH8_R)
    extrude(amount=-CUT_EXTRUDE9_DEPTH, mode=Mode.SUBTRACT)

    # Sketch14 → Cut-Extrude11 (cut, up to next)
    with BuildSketch(Plane.ZY, mode=Mode.PRIVATE) as cut_extrude11_sk1:
        with Locations((-139.7, 63.5)):
            Rectangle(SKETCH14_W, SKETCH14_H)
    cut_extrude11_tool1 = extrude(cut_extrude11_sk1.sketch, amount=-CUT_EXTRUDE11_REACH, mode=Mode.PRIVATE) & part.part
    add(cut_extrude11_tool1.solids().sort_by_distance((0, 63.5, -139.7))[0], mode=Mode.SUBTRACT)


solid = part.part
